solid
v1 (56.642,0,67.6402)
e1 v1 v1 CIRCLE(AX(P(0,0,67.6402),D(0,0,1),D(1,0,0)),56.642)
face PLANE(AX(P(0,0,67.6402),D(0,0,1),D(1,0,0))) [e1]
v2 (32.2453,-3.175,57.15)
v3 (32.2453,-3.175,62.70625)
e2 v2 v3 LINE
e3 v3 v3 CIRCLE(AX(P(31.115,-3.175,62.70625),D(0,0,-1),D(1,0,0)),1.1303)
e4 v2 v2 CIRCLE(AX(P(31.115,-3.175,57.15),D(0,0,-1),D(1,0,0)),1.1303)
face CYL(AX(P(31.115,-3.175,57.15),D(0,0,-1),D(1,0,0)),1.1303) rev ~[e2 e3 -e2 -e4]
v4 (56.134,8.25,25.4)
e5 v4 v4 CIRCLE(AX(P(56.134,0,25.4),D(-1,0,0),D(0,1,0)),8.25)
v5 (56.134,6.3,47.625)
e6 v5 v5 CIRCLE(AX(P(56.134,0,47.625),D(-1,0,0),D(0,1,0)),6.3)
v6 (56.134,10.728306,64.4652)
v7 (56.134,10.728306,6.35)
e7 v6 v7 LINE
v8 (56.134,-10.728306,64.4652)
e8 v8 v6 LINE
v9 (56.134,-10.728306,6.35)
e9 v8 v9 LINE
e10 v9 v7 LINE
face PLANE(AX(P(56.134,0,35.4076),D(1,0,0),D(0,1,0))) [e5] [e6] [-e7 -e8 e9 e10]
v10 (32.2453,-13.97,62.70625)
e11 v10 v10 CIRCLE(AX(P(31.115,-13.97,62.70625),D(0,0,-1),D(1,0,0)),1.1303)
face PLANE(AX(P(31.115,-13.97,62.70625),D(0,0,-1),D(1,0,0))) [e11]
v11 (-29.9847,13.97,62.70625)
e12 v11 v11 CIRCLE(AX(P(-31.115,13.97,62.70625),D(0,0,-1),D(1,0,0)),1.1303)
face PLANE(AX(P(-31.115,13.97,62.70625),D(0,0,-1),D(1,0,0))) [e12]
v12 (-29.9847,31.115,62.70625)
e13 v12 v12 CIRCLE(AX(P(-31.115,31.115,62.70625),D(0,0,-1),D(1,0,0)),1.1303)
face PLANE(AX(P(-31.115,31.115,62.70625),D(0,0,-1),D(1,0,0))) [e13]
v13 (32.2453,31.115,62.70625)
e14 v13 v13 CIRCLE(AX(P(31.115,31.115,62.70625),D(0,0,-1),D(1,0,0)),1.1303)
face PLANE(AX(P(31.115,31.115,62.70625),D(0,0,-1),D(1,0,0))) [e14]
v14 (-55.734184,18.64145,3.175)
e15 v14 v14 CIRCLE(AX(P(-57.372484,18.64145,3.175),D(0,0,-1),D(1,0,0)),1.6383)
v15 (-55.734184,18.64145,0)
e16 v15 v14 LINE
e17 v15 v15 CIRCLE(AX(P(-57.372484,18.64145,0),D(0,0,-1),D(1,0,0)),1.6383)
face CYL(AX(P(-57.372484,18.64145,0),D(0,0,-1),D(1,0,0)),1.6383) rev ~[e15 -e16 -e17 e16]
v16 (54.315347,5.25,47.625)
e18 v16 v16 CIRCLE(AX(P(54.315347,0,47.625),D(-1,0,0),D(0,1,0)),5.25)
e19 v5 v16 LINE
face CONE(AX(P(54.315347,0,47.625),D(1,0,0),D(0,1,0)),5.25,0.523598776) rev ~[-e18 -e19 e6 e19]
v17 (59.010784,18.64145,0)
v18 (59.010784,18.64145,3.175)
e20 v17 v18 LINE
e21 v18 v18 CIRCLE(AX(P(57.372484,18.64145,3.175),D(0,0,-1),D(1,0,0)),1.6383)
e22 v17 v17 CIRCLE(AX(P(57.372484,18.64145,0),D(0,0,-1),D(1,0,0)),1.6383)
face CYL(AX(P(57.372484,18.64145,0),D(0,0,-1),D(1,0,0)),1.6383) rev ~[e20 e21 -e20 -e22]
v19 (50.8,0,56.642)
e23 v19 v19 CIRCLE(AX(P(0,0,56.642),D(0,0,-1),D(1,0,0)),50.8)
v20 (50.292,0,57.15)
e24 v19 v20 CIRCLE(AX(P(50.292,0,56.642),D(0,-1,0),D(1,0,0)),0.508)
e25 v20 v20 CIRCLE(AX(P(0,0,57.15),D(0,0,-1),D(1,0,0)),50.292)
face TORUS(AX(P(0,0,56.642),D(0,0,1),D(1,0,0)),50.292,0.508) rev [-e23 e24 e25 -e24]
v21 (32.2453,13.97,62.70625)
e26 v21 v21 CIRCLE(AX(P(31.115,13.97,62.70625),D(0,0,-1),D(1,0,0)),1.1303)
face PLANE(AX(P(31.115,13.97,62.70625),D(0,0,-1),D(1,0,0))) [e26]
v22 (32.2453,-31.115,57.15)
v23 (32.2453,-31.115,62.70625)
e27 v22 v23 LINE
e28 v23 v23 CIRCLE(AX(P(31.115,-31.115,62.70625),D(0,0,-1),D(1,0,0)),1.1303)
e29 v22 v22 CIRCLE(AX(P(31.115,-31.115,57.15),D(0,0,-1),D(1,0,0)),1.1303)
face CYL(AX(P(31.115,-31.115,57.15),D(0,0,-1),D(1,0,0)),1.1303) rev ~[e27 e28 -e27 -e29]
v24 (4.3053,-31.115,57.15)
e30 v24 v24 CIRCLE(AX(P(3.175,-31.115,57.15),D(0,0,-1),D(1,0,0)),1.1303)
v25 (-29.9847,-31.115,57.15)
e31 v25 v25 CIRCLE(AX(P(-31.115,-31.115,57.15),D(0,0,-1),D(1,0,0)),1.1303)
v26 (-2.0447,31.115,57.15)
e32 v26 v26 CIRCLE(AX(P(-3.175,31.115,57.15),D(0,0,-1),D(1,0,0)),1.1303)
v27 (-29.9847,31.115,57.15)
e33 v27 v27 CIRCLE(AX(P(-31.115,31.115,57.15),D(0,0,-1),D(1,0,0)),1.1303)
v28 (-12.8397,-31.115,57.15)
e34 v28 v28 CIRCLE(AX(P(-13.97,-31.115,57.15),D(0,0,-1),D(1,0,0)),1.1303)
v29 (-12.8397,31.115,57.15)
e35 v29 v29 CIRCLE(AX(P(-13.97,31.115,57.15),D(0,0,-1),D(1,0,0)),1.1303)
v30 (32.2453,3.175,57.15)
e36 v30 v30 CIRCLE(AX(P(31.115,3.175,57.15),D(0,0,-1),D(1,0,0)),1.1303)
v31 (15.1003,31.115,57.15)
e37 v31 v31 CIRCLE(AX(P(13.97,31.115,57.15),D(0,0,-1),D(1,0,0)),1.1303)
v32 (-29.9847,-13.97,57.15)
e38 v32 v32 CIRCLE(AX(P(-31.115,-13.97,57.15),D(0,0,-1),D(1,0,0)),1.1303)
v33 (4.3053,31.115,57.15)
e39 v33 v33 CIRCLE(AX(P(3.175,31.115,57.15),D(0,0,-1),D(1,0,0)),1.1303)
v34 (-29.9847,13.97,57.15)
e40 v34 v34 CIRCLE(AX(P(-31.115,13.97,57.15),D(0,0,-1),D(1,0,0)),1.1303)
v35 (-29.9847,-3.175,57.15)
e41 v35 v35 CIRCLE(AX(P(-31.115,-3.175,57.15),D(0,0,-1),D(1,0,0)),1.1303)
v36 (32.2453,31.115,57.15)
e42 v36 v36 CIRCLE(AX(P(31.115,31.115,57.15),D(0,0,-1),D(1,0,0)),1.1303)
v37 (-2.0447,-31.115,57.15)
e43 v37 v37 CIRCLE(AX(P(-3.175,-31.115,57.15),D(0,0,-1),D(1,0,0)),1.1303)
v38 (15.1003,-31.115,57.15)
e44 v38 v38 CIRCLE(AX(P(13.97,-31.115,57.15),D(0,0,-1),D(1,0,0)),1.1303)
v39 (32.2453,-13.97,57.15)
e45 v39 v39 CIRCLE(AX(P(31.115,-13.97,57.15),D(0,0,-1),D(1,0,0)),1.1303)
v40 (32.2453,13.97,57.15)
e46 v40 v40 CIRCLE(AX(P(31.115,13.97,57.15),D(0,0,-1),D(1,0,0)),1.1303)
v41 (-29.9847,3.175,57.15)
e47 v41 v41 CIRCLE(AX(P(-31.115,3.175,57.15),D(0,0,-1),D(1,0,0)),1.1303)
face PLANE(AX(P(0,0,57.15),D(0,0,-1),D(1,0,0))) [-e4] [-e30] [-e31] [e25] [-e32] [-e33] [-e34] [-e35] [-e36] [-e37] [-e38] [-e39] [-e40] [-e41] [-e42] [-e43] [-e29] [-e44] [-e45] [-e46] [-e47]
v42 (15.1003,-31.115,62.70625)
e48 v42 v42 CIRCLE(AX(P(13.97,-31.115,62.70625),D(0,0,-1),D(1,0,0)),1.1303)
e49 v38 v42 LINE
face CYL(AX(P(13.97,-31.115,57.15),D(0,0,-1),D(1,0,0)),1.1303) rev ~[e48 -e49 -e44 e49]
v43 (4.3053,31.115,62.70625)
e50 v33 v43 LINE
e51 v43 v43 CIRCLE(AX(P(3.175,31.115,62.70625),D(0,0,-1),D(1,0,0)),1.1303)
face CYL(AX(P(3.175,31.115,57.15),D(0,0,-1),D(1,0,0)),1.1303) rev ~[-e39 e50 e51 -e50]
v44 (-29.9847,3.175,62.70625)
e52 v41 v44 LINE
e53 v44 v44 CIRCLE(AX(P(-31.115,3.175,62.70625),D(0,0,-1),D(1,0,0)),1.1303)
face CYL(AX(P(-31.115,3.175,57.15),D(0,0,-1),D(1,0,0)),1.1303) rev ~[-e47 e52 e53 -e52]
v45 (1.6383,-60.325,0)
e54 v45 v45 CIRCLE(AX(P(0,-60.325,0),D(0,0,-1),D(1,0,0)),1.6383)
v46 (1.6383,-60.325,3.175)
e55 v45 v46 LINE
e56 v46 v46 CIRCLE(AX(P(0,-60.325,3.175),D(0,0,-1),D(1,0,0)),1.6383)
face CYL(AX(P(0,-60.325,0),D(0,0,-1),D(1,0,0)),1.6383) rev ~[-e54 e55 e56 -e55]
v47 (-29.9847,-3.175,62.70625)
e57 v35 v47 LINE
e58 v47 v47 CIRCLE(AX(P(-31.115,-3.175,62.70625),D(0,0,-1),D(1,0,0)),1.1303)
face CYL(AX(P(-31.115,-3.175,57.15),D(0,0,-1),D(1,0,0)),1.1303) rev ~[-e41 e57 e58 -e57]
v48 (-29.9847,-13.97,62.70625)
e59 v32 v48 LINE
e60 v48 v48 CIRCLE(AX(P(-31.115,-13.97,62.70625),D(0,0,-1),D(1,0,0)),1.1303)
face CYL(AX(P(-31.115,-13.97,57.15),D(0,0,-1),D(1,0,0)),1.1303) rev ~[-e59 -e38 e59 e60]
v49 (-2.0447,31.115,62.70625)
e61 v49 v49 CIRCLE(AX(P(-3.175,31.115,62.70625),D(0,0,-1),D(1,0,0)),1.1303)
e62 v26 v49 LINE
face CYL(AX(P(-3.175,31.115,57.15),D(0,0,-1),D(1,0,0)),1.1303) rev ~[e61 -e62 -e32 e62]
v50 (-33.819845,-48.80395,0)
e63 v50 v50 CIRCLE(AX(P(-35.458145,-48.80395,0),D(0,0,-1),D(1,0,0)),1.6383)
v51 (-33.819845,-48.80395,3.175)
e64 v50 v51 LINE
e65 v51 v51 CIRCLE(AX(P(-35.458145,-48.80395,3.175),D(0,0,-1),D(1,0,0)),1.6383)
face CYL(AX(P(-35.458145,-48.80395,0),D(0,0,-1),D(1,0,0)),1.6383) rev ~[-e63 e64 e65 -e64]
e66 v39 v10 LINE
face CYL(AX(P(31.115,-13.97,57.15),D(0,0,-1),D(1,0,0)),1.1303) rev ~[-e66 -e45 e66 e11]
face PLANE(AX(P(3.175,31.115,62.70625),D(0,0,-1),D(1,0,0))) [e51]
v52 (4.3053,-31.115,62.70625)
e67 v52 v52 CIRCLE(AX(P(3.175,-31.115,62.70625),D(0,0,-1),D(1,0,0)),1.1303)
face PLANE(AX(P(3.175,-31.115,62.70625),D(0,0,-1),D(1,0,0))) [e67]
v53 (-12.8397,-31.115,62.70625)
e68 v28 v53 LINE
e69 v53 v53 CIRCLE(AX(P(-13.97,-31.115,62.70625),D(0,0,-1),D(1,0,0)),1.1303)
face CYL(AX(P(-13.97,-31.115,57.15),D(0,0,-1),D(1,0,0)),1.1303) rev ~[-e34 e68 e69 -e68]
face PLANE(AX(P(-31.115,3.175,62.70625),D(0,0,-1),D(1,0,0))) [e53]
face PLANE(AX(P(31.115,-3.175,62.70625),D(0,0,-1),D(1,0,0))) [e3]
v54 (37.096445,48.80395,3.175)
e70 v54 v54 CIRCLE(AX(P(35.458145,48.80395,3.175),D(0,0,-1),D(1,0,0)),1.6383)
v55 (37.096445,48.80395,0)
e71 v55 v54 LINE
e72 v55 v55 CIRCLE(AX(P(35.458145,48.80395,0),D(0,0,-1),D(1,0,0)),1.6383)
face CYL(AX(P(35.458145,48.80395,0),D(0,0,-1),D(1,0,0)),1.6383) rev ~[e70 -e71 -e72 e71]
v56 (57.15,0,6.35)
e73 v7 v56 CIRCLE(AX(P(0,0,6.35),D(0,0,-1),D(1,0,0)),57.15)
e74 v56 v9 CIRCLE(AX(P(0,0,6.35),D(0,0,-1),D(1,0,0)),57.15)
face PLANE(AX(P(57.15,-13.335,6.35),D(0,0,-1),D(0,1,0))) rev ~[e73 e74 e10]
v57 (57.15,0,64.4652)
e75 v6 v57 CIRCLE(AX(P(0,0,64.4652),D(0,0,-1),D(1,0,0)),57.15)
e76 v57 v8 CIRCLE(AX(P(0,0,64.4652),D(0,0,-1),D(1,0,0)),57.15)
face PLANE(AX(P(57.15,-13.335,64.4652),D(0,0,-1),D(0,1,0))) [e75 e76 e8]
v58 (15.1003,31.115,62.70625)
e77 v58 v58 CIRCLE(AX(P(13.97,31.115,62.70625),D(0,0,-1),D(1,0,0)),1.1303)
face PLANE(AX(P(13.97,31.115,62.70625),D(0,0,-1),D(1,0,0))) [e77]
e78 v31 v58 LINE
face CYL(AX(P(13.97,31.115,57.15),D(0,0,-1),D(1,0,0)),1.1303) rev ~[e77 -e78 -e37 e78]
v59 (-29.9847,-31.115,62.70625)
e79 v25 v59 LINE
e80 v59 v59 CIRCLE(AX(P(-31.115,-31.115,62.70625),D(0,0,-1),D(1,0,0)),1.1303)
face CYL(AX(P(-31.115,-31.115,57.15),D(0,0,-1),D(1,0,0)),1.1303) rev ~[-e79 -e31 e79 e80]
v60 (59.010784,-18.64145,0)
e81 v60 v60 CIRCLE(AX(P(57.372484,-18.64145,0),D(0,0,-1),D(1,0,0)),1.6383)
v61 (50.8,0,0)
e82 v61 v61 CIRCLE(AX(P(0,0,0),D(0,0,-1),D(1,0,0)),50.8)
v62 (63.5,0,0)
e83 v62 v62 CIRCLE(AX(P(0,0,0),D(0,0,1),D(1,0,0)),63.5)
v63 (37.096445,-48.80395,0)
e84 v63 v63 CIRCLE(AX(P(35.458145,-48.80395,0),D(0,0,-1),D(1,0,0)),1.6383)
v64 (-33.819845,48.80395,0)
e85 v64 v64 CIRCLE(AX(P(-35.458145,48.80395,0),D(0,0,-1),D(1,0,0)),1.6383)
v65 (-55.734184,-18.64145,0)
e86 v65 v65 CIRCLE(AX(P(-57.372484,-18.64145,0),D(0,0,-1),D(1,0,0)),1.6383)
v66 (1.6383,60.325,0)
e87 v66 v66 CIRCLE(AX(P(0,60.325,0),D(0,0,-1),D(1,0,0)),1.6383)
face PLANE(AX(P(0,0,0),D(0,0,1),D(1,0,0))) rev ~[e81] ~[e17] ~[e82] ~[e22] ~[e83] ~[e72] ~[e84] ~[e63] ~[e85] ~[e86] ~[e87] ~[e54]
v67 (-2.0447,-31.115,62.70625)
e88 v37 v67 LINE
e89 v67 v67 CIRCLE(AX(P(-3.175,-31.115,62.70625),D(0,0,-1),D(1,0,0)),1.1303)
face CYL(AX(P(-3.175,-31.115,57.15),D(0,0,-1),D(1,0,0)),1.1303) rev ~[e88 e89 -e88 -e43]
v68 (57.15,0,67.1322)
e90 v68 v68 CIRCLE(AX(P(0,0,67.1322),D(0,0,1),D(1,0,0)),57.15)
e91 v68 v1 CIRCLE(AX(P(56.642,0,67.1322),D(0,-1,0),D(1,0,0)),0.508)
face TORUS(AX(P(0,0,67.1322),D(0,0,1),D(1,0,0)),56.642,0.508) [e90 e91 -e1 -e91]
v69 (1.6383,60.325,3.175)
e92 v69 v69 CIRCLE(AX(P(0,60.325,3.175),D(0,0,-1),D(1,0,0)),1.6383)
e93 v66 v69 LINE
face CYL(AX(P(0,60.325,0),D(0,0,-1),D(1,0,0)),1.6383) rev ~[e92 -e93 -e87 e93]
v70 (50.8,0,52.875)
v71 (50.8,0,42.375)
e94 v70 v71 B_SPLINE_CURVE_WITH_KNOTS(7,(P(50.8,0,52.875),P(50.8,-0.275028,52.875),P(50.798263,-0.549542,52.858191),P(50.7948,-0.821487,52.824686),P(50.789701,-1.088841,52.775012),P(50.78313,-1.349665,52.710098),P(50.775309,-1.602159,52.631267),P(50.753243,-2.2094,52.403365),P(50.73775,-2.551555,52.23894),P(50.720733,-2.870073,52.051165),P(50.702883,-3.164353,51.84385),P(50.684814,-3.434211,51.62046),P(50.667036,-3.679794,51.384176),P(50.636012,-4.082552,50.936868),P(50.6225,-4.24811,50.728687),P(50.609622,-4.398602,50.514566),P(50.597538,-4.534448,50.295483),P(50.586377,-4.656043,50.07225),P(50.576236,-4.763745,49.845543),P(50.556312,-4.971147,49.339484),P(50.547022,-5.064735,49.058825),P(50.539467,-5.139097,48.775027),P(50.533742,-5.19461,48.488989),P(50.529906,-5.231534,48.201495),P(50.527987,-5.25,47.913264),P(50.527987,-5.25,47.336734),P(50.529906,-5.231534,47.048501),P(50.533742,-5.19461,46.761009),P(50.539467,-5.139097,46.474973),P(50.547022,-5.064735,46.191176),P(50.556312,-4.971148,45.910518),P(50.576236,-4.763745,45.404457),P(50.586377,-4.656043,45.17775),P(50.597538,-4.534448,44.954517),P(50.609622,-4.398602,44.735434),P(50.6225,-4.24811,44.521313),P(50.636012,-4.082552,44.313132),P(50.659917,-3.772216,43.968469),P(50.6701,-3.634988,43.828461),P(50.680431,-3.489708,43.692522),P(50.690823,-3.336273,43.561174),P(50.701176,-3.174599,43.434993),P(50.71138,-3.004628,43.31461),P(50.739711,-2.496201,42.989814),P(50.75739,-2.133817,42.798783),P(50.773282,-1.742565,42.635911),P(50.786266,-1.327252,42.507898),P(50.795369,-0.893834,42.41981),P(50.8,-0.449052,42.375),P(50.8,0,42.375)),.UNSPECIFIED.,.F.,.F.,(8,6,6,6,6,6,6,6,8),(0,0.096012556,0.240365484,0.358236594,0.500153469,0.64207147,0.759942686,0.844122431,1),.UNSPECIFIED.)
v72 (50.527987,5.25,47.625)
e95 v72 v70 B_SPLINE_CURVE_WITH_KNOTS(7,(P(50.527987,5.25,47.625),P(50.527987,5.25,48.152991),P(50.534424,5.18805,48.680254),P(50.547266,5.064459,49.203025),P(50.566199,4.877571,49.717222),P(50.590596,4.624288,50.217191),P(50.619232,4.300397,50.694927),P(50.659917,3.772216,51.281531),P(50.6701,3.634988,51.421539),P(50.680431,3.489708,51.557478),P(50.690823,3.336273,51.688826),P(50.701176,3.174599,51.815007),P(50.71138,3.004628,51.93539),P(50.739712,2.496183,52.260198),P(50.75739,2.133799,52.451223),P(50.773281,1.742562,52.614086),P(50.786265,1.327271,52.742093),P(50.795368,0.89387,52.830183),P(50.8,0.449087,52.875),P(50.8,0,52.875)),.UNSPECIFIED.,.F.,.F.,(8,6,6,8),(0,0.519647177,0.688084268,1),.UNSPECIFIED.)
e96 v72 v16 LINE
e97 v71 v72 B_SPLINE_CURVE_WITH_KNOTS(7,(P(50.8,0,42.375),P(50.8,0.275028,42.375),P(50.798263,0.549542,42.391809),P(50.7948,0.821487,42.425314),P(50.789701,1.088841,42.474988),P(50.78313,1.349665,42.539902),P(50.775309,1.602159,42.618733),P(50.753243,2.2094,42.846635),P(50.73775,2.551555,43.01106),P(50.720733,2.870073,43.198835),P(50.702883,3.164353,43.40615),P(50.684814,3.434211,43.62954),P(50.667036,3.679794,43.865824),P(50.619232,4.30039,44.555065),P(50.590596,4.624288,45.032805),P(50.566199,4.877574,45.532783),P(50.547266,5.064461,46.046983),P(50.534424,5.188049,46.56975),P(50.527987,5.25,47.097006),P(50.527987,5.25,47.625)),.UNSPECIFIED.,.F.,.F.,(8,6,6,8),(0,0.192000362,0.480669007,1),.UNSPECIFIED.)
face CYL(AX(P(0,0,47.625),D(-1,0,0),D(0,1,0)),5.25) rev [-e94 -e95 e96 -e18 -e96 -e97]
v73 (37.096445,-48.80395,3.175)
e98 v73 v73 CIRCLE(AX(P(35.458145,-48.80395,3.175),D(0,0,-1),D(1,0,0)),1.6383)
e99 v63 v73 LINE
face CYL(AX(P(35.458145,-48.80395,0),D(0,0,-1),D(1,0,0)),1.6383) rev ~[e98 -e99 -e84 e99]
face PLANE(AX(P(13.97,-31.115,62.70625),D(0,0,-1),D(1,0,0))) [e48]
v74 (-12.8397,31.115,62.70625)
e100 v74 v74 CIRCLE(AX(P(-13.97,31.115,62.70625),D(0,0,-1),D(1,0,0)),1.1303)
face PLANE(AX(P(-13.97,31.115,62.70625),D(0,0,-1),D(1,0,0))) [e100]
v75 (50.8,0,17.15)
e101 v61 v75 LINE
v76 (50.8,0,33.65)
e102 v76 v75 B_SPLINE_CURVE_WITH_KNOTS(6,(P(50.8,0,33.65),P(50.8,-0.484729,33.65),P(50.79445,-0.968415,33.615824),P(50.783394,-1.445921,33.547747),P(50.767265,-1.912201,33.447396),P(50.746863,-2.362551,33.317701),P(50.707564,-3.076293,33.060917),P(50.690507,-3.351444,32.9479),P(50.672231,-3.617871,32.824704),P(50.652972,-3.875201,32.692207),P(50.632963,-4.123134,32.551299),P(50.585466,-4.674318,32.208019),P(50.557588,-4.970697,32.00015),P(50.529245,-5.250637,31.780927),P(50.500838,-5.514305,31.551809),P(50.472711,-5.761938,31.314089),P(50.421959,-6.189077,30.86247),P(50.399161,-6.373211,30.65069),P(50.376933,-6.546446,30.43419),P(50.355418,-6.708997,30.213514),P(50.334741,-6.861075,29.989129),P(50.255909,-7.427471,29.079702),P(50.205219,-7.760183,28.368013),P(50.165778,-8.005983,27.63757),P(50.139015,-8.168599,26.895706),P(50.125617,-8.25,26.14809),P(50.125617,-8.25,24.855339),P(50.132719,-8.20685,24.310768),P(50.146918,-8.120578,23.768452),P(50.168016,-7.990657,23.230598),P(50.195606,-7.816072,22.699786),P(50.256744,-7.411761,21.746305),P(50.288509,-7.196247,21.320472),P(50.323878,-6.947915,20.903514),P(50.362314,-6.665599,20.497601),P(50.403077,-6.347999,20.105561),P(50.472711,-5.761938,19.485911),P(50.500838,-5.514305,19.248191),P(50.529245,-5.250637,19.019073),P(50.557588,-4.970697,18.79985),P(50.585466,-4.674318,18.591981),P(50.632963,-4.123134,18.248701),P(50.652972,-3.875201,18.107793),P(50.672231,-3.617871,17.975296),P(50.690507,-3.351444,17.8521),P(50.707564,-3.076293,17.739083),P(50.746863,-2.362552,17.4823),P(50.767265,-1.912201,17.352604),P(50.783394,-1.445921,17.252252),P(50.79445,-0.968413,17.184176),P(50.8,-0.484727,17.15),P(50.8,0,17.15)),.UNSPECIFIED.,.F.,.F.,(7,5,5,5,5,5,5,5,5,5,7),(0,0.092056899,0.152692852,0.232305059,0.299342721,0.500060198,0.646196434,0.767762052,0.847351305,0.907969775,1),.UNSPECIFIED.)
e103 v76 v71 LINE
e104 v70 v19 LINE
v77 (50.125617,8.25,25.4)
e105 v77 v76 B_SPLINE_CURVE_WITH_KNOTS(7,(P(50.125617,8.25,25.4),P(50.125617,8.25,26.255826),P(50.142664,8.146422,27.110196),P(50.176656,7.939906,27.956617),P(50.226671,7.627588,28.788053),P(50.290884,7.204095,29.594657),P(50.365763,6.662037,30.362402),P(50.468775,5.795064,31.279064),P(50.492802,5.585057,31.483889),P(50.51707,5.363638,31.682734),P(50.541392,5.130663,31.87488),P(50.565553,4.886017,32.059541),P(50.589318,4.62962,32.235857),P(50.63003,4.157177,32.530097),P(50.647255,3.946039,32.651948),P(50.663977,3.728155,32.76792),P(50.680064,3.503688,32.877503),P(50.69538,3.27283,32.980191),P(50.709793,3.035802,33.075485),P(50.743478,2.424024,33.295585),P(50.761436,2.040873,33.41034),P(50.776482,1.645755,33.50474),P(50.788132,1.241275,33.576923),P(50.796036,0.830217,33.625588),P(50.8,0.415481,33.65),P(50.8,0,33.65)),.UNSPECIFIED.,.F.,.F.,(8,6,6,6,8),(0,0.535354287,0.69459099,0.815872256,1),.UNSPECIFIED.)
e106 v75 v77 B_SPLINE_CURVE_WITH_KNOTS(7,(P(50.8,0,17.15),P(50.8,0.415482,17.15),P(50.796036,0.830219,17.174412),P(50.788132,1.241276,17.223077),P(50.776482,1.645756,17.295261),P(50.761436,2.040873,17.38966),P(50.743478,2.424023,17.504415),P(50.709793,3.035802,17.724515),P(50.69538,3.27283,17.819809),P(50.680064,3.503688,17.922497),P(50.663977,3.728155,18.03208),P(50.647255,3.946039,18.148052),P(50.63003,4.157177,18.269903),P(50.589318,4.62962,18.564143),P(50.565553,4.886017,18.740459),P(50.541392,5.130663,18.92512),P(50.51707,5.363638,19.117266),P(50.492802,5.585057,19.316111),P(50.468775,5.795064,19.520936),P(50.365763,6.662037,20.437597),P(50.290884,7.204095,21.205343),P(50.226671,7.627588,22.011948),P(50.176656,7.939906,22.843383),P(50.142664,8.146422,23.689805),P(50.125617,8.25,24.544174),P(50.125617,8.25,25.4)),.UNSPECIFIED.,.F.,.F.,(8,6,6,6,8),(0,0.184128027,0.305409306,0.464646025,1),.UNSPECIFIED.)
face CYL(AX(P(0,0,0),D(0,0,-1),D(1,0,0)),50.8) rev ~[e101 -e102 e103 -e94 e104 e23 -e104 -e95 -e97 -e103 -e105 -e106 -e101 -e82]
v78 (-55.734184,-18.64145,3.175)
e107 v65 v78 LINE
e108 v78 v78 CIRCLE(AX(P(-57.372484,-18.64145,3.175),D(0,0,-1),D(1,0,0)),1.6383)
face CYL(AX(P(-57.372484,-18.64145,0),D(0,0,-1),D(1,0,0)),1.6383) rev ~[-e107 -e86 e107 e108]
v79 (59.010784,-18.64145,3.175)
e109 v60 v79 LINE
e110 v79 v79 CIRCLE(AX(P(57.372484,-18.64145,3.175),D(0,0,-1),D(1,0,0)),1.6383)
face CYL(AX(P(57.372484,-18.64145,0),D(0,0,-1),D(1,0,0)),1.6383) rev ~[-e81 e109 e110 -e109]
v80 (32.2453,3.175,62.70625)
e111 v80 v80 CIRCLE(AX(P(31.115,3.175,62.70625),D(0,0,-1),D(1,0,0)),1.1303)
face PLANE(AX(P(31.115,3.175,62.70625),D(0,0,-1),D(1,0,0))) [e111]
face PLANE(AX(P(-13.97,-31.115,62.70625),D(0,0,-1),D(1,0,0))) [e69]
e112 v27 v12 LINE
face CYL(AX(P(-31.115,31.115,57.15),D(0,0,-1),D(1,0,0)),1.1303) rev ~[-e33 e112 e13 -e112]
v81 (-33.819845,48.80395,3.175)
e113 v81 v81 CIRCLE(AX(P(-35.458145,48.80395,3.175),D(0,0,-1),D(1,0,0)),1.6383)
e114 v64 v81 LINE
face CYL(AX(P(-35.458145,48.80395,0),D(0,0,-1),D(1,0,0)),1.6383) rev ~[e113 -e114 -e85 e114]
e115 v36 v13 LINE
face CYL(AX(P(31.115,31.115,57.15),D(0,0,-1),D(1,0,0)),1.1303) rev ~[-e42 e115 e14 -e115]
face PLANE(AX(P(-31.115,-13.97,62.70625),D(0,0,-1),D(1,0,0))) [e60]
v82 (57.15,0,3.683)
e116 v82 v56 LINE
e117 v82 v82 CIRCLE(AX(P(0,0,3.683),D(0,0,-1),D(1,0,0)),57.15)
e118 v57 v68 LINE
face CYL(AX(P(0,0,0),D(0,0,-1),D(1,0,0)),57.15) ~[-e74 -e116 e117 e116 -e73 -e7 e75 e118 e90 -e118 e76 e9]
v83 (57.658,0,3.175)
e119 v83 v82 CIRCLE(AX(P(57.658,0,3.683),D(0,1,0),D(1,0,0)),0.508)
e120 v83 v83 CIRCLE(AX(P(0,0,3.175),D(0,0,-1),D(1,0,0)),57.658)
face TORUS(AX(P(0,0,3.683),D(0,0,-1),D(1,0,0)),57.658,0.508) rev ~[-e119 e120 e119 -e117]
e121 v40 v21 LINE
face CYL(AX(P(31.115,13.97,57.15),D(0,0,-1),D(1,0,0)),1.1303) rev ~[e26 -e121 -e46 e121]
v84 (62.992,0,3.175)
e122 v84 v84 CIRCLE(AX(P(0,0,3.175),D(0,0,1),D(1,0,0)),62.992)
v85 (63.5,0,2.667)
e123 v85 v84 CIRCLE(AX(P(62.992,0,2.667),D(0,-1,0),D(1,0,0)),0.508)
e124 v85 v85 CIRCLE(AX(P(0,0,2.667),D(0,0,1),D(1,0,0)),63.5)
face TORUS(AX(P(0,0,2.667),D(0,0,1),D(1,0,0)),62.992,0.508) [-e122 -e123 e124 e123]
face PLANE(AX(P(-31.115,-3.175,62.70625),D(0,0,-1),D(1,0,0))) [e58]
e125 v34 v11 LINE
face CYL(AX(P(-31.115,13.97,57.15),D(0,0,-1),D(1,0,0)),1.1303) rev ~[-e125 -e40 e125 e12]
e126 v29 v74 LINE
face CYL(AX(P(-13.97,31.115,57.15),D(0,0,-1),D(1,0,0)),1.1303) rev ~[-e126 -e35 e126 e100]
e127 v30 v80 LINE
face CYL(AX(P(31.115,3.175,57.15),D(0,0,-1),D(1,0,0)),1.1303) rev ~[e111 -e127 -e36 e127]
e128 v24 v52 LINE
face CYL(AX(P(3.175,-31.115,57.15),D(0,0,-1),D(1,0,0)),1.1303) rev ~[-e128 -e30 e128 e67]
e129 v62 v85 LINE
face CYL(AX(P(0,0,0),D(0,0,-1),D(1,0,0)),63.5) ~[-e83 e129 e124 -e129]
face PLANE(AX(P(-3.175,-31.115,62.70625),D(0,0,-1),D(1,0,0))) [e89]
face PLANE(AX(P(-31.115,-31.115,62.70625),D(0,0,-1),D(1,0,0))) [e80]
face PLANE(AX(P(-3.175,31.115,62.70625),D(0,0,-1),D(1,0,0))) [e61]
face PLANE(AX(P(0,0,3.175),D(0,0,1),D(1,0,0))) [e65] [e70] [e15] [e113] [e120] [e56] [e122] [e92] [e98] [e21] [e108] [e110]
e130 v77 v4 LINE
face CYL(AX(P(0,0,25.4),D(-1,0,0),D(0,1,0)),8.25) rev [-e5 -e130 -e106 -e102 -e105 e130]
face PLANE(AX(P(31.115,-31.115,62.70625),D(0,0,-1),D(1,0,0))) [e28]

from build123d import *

# Parameters (mm, degrees)
F0_R      = 63.5
F1_DEPTH  = 3.175
F2_R      = 57.15
F3_DEPTH  = 67.6402
F4_R      = 50.8
F5_DEPTH  = 57.15
F6_R      = 1.6383
F7_DEPTH  = 3.175
F8_R      = 1.1303
F9_DEPTH  = 5.55625
F10_R     = 8.25
F10_R_2   = 5.25
F11_DEPTH = 58.1500001
F12_R     = 0.508
F14_W     = 26.67
F14_H     = 58.1152
F15_DEPTH = 1.016
F16_SIZE2 = 1.8186533479
F16_SIZE  = 1.05


with BuildPart() as f1:
    # F0 (on Top) → F1 (new body)
    with BuildSketch(Plane.XY):
        Circle(F0_R)
    extrude(amount=F1_DEPTH)

    # F2 (on Top) → F3 (join)
    with BuildSketch(Plane.XY):
        Circle(F2_R)
    extrude(amount=F3_DEPTH)

    # F4 (on face) → F5 (cut)
    with BuildSketch(Plane(origin=(0, 0, 0), x_dir=(1, 0, 0), z_dir=(0, 0, -1))):
        Circle(F4_R)
    extrude(amount=-F5_DEPTH, mode=Mode.SUBTRACT)

    # F6 (on face) → F7 (cut, through all)
    with BuildSketch(Plane(origin=(0, 0, 0), x_dir=(1, 0, 0), z_dir=(0, 0, -1))):
        with Locations((0, -60.325)):
            Circle(F6_R)
        with Locations((35.4581453445, -48.8039501857)):
            Circle(F6_R)
        with Locations((57.3724843455, -18.6414501857)):
            Circle(F6_R)
        with Locations((57.3724843455, 18.6414501857)):
            Circle(F6_R)
        with Locations((35.4581453445, 48.8039501857)):
            Circle(F6_R)
        with Locations((0, 60.325)):
            Circle(F6_R)
        with Locations((-35.4581453445, 48.8039501857)):
            Circle(F6_R)
        with Locations((-57.3724843455, 18.6414501857)):
            Circle(F6_R)
        with Locations((-57.3724843455, -18.6414501857)):
            Circle(F6_R)
        with Locations((-35.4581453445, -48.8039501857)):
            Circle(F6_R)
    extrude(amount=-F7_DEPTH, mode=Mode.SUBTRACT)

    # F8 (on face) → F9 (cut)
    with BuildSketch(Plane(origin=(0, 0, 57.15), x_dir=(1, 0, 0), z_dir=(0, 0, -1))):
        with Locations((31.115, -31.115)):
            Circle(F8_R)
        with Locations((-31.115, -31.115)):
            Circle(F8_R)
        with Locations((-31.115, 31.115)):
            Circle(F8_R)
        with Locations((31.115, 31.115)):
            Circle(F8_R)
        with Locations((3.175, 31.115)):
            Circle(F8_R)
        with Locations((-3.175, 31.115)):
            Circle(F8_R)
        with Locations((-31.115, 3.175)):
            Circle(F8_R)
        with Locations((31.115, 3.175)):
            Circle(F8_R)
        with Locations((31.115, -3.175)):
            Circle(F8_R)
        with Locations((3.175, -31.115)):
            Circle(F8_R)
        with Locations((-3.175, -31.115)):
            Circle(F8_R)
        with Locations((-31.115, -3.175)):
            Circle(F8_R)
        with Locations((31.115, -13.97)):
            Circle(F8_R)
        with Locations((31.115, 13.97)):
            Circle(F8_R)
        with Locations((-31.115, -13.97)):
            Circle(F8_R)
        with Locations((-31.115, 13.97)):
            Circle(F8_R)
        with Locations((-13.97, 31.115)):
            Circle(F8_R)
        with Locations((13.97, 31.115)):
            Circle(F8_R)
        with Locations((13.97, -31.115)):
            Circle(F8_R)
        with Locations((-13.97, -31.115)):
            Circle(F8_R)
    extrude(amount=-F9_DEPTH, mode=Mode.SUBTRACT)

    # F10 (on Right) → F11 (cut, up to face)
    with BuildSketch(Plane.YZ):
        with Locations((0, 25.4)):
            Circle(F10_R)
        with Locations((0, 47.625)):
            Circle(F10_R_2)
    extrude(amount=F11_DEPTH, mode=Mode.SUBTRACT)

    # F12
    f12_edges = [f1.edges().sort_by_distance(p)[0] for p in [
        (-57.15, 0, 67.6402),
        (-63.5, 0, 3.175),
        (-57.15, 0, 3.175),
        (-50.8, 0, 57.15),
    ]]
    fillet(f12_edges, radius=F12_R)

    # F14 (on offset) → F15 (cut)
    with BuildSketch(Plane.YZ.offset(57.15)):
        with Locations((0, 35.4076)):
            Rectangle(F14_W, F14_H)
    extrude(amount=-F15_DEPTH, mode=Mode.SUBTRACT)

    # F16
    f16_edges = [f1.edges().sort_by_distance(p)[0] for p in [
        (56.134, -5.25, 47.625),
    ]]
    f16_side = f1.faces().sort_by_distance((56.134, 0, 36.550673))[0]
    chamfer(f16_edges, length=F16_SIZE, length2=F16_SIZE2, reference=f16_side)


solid = f1.part
